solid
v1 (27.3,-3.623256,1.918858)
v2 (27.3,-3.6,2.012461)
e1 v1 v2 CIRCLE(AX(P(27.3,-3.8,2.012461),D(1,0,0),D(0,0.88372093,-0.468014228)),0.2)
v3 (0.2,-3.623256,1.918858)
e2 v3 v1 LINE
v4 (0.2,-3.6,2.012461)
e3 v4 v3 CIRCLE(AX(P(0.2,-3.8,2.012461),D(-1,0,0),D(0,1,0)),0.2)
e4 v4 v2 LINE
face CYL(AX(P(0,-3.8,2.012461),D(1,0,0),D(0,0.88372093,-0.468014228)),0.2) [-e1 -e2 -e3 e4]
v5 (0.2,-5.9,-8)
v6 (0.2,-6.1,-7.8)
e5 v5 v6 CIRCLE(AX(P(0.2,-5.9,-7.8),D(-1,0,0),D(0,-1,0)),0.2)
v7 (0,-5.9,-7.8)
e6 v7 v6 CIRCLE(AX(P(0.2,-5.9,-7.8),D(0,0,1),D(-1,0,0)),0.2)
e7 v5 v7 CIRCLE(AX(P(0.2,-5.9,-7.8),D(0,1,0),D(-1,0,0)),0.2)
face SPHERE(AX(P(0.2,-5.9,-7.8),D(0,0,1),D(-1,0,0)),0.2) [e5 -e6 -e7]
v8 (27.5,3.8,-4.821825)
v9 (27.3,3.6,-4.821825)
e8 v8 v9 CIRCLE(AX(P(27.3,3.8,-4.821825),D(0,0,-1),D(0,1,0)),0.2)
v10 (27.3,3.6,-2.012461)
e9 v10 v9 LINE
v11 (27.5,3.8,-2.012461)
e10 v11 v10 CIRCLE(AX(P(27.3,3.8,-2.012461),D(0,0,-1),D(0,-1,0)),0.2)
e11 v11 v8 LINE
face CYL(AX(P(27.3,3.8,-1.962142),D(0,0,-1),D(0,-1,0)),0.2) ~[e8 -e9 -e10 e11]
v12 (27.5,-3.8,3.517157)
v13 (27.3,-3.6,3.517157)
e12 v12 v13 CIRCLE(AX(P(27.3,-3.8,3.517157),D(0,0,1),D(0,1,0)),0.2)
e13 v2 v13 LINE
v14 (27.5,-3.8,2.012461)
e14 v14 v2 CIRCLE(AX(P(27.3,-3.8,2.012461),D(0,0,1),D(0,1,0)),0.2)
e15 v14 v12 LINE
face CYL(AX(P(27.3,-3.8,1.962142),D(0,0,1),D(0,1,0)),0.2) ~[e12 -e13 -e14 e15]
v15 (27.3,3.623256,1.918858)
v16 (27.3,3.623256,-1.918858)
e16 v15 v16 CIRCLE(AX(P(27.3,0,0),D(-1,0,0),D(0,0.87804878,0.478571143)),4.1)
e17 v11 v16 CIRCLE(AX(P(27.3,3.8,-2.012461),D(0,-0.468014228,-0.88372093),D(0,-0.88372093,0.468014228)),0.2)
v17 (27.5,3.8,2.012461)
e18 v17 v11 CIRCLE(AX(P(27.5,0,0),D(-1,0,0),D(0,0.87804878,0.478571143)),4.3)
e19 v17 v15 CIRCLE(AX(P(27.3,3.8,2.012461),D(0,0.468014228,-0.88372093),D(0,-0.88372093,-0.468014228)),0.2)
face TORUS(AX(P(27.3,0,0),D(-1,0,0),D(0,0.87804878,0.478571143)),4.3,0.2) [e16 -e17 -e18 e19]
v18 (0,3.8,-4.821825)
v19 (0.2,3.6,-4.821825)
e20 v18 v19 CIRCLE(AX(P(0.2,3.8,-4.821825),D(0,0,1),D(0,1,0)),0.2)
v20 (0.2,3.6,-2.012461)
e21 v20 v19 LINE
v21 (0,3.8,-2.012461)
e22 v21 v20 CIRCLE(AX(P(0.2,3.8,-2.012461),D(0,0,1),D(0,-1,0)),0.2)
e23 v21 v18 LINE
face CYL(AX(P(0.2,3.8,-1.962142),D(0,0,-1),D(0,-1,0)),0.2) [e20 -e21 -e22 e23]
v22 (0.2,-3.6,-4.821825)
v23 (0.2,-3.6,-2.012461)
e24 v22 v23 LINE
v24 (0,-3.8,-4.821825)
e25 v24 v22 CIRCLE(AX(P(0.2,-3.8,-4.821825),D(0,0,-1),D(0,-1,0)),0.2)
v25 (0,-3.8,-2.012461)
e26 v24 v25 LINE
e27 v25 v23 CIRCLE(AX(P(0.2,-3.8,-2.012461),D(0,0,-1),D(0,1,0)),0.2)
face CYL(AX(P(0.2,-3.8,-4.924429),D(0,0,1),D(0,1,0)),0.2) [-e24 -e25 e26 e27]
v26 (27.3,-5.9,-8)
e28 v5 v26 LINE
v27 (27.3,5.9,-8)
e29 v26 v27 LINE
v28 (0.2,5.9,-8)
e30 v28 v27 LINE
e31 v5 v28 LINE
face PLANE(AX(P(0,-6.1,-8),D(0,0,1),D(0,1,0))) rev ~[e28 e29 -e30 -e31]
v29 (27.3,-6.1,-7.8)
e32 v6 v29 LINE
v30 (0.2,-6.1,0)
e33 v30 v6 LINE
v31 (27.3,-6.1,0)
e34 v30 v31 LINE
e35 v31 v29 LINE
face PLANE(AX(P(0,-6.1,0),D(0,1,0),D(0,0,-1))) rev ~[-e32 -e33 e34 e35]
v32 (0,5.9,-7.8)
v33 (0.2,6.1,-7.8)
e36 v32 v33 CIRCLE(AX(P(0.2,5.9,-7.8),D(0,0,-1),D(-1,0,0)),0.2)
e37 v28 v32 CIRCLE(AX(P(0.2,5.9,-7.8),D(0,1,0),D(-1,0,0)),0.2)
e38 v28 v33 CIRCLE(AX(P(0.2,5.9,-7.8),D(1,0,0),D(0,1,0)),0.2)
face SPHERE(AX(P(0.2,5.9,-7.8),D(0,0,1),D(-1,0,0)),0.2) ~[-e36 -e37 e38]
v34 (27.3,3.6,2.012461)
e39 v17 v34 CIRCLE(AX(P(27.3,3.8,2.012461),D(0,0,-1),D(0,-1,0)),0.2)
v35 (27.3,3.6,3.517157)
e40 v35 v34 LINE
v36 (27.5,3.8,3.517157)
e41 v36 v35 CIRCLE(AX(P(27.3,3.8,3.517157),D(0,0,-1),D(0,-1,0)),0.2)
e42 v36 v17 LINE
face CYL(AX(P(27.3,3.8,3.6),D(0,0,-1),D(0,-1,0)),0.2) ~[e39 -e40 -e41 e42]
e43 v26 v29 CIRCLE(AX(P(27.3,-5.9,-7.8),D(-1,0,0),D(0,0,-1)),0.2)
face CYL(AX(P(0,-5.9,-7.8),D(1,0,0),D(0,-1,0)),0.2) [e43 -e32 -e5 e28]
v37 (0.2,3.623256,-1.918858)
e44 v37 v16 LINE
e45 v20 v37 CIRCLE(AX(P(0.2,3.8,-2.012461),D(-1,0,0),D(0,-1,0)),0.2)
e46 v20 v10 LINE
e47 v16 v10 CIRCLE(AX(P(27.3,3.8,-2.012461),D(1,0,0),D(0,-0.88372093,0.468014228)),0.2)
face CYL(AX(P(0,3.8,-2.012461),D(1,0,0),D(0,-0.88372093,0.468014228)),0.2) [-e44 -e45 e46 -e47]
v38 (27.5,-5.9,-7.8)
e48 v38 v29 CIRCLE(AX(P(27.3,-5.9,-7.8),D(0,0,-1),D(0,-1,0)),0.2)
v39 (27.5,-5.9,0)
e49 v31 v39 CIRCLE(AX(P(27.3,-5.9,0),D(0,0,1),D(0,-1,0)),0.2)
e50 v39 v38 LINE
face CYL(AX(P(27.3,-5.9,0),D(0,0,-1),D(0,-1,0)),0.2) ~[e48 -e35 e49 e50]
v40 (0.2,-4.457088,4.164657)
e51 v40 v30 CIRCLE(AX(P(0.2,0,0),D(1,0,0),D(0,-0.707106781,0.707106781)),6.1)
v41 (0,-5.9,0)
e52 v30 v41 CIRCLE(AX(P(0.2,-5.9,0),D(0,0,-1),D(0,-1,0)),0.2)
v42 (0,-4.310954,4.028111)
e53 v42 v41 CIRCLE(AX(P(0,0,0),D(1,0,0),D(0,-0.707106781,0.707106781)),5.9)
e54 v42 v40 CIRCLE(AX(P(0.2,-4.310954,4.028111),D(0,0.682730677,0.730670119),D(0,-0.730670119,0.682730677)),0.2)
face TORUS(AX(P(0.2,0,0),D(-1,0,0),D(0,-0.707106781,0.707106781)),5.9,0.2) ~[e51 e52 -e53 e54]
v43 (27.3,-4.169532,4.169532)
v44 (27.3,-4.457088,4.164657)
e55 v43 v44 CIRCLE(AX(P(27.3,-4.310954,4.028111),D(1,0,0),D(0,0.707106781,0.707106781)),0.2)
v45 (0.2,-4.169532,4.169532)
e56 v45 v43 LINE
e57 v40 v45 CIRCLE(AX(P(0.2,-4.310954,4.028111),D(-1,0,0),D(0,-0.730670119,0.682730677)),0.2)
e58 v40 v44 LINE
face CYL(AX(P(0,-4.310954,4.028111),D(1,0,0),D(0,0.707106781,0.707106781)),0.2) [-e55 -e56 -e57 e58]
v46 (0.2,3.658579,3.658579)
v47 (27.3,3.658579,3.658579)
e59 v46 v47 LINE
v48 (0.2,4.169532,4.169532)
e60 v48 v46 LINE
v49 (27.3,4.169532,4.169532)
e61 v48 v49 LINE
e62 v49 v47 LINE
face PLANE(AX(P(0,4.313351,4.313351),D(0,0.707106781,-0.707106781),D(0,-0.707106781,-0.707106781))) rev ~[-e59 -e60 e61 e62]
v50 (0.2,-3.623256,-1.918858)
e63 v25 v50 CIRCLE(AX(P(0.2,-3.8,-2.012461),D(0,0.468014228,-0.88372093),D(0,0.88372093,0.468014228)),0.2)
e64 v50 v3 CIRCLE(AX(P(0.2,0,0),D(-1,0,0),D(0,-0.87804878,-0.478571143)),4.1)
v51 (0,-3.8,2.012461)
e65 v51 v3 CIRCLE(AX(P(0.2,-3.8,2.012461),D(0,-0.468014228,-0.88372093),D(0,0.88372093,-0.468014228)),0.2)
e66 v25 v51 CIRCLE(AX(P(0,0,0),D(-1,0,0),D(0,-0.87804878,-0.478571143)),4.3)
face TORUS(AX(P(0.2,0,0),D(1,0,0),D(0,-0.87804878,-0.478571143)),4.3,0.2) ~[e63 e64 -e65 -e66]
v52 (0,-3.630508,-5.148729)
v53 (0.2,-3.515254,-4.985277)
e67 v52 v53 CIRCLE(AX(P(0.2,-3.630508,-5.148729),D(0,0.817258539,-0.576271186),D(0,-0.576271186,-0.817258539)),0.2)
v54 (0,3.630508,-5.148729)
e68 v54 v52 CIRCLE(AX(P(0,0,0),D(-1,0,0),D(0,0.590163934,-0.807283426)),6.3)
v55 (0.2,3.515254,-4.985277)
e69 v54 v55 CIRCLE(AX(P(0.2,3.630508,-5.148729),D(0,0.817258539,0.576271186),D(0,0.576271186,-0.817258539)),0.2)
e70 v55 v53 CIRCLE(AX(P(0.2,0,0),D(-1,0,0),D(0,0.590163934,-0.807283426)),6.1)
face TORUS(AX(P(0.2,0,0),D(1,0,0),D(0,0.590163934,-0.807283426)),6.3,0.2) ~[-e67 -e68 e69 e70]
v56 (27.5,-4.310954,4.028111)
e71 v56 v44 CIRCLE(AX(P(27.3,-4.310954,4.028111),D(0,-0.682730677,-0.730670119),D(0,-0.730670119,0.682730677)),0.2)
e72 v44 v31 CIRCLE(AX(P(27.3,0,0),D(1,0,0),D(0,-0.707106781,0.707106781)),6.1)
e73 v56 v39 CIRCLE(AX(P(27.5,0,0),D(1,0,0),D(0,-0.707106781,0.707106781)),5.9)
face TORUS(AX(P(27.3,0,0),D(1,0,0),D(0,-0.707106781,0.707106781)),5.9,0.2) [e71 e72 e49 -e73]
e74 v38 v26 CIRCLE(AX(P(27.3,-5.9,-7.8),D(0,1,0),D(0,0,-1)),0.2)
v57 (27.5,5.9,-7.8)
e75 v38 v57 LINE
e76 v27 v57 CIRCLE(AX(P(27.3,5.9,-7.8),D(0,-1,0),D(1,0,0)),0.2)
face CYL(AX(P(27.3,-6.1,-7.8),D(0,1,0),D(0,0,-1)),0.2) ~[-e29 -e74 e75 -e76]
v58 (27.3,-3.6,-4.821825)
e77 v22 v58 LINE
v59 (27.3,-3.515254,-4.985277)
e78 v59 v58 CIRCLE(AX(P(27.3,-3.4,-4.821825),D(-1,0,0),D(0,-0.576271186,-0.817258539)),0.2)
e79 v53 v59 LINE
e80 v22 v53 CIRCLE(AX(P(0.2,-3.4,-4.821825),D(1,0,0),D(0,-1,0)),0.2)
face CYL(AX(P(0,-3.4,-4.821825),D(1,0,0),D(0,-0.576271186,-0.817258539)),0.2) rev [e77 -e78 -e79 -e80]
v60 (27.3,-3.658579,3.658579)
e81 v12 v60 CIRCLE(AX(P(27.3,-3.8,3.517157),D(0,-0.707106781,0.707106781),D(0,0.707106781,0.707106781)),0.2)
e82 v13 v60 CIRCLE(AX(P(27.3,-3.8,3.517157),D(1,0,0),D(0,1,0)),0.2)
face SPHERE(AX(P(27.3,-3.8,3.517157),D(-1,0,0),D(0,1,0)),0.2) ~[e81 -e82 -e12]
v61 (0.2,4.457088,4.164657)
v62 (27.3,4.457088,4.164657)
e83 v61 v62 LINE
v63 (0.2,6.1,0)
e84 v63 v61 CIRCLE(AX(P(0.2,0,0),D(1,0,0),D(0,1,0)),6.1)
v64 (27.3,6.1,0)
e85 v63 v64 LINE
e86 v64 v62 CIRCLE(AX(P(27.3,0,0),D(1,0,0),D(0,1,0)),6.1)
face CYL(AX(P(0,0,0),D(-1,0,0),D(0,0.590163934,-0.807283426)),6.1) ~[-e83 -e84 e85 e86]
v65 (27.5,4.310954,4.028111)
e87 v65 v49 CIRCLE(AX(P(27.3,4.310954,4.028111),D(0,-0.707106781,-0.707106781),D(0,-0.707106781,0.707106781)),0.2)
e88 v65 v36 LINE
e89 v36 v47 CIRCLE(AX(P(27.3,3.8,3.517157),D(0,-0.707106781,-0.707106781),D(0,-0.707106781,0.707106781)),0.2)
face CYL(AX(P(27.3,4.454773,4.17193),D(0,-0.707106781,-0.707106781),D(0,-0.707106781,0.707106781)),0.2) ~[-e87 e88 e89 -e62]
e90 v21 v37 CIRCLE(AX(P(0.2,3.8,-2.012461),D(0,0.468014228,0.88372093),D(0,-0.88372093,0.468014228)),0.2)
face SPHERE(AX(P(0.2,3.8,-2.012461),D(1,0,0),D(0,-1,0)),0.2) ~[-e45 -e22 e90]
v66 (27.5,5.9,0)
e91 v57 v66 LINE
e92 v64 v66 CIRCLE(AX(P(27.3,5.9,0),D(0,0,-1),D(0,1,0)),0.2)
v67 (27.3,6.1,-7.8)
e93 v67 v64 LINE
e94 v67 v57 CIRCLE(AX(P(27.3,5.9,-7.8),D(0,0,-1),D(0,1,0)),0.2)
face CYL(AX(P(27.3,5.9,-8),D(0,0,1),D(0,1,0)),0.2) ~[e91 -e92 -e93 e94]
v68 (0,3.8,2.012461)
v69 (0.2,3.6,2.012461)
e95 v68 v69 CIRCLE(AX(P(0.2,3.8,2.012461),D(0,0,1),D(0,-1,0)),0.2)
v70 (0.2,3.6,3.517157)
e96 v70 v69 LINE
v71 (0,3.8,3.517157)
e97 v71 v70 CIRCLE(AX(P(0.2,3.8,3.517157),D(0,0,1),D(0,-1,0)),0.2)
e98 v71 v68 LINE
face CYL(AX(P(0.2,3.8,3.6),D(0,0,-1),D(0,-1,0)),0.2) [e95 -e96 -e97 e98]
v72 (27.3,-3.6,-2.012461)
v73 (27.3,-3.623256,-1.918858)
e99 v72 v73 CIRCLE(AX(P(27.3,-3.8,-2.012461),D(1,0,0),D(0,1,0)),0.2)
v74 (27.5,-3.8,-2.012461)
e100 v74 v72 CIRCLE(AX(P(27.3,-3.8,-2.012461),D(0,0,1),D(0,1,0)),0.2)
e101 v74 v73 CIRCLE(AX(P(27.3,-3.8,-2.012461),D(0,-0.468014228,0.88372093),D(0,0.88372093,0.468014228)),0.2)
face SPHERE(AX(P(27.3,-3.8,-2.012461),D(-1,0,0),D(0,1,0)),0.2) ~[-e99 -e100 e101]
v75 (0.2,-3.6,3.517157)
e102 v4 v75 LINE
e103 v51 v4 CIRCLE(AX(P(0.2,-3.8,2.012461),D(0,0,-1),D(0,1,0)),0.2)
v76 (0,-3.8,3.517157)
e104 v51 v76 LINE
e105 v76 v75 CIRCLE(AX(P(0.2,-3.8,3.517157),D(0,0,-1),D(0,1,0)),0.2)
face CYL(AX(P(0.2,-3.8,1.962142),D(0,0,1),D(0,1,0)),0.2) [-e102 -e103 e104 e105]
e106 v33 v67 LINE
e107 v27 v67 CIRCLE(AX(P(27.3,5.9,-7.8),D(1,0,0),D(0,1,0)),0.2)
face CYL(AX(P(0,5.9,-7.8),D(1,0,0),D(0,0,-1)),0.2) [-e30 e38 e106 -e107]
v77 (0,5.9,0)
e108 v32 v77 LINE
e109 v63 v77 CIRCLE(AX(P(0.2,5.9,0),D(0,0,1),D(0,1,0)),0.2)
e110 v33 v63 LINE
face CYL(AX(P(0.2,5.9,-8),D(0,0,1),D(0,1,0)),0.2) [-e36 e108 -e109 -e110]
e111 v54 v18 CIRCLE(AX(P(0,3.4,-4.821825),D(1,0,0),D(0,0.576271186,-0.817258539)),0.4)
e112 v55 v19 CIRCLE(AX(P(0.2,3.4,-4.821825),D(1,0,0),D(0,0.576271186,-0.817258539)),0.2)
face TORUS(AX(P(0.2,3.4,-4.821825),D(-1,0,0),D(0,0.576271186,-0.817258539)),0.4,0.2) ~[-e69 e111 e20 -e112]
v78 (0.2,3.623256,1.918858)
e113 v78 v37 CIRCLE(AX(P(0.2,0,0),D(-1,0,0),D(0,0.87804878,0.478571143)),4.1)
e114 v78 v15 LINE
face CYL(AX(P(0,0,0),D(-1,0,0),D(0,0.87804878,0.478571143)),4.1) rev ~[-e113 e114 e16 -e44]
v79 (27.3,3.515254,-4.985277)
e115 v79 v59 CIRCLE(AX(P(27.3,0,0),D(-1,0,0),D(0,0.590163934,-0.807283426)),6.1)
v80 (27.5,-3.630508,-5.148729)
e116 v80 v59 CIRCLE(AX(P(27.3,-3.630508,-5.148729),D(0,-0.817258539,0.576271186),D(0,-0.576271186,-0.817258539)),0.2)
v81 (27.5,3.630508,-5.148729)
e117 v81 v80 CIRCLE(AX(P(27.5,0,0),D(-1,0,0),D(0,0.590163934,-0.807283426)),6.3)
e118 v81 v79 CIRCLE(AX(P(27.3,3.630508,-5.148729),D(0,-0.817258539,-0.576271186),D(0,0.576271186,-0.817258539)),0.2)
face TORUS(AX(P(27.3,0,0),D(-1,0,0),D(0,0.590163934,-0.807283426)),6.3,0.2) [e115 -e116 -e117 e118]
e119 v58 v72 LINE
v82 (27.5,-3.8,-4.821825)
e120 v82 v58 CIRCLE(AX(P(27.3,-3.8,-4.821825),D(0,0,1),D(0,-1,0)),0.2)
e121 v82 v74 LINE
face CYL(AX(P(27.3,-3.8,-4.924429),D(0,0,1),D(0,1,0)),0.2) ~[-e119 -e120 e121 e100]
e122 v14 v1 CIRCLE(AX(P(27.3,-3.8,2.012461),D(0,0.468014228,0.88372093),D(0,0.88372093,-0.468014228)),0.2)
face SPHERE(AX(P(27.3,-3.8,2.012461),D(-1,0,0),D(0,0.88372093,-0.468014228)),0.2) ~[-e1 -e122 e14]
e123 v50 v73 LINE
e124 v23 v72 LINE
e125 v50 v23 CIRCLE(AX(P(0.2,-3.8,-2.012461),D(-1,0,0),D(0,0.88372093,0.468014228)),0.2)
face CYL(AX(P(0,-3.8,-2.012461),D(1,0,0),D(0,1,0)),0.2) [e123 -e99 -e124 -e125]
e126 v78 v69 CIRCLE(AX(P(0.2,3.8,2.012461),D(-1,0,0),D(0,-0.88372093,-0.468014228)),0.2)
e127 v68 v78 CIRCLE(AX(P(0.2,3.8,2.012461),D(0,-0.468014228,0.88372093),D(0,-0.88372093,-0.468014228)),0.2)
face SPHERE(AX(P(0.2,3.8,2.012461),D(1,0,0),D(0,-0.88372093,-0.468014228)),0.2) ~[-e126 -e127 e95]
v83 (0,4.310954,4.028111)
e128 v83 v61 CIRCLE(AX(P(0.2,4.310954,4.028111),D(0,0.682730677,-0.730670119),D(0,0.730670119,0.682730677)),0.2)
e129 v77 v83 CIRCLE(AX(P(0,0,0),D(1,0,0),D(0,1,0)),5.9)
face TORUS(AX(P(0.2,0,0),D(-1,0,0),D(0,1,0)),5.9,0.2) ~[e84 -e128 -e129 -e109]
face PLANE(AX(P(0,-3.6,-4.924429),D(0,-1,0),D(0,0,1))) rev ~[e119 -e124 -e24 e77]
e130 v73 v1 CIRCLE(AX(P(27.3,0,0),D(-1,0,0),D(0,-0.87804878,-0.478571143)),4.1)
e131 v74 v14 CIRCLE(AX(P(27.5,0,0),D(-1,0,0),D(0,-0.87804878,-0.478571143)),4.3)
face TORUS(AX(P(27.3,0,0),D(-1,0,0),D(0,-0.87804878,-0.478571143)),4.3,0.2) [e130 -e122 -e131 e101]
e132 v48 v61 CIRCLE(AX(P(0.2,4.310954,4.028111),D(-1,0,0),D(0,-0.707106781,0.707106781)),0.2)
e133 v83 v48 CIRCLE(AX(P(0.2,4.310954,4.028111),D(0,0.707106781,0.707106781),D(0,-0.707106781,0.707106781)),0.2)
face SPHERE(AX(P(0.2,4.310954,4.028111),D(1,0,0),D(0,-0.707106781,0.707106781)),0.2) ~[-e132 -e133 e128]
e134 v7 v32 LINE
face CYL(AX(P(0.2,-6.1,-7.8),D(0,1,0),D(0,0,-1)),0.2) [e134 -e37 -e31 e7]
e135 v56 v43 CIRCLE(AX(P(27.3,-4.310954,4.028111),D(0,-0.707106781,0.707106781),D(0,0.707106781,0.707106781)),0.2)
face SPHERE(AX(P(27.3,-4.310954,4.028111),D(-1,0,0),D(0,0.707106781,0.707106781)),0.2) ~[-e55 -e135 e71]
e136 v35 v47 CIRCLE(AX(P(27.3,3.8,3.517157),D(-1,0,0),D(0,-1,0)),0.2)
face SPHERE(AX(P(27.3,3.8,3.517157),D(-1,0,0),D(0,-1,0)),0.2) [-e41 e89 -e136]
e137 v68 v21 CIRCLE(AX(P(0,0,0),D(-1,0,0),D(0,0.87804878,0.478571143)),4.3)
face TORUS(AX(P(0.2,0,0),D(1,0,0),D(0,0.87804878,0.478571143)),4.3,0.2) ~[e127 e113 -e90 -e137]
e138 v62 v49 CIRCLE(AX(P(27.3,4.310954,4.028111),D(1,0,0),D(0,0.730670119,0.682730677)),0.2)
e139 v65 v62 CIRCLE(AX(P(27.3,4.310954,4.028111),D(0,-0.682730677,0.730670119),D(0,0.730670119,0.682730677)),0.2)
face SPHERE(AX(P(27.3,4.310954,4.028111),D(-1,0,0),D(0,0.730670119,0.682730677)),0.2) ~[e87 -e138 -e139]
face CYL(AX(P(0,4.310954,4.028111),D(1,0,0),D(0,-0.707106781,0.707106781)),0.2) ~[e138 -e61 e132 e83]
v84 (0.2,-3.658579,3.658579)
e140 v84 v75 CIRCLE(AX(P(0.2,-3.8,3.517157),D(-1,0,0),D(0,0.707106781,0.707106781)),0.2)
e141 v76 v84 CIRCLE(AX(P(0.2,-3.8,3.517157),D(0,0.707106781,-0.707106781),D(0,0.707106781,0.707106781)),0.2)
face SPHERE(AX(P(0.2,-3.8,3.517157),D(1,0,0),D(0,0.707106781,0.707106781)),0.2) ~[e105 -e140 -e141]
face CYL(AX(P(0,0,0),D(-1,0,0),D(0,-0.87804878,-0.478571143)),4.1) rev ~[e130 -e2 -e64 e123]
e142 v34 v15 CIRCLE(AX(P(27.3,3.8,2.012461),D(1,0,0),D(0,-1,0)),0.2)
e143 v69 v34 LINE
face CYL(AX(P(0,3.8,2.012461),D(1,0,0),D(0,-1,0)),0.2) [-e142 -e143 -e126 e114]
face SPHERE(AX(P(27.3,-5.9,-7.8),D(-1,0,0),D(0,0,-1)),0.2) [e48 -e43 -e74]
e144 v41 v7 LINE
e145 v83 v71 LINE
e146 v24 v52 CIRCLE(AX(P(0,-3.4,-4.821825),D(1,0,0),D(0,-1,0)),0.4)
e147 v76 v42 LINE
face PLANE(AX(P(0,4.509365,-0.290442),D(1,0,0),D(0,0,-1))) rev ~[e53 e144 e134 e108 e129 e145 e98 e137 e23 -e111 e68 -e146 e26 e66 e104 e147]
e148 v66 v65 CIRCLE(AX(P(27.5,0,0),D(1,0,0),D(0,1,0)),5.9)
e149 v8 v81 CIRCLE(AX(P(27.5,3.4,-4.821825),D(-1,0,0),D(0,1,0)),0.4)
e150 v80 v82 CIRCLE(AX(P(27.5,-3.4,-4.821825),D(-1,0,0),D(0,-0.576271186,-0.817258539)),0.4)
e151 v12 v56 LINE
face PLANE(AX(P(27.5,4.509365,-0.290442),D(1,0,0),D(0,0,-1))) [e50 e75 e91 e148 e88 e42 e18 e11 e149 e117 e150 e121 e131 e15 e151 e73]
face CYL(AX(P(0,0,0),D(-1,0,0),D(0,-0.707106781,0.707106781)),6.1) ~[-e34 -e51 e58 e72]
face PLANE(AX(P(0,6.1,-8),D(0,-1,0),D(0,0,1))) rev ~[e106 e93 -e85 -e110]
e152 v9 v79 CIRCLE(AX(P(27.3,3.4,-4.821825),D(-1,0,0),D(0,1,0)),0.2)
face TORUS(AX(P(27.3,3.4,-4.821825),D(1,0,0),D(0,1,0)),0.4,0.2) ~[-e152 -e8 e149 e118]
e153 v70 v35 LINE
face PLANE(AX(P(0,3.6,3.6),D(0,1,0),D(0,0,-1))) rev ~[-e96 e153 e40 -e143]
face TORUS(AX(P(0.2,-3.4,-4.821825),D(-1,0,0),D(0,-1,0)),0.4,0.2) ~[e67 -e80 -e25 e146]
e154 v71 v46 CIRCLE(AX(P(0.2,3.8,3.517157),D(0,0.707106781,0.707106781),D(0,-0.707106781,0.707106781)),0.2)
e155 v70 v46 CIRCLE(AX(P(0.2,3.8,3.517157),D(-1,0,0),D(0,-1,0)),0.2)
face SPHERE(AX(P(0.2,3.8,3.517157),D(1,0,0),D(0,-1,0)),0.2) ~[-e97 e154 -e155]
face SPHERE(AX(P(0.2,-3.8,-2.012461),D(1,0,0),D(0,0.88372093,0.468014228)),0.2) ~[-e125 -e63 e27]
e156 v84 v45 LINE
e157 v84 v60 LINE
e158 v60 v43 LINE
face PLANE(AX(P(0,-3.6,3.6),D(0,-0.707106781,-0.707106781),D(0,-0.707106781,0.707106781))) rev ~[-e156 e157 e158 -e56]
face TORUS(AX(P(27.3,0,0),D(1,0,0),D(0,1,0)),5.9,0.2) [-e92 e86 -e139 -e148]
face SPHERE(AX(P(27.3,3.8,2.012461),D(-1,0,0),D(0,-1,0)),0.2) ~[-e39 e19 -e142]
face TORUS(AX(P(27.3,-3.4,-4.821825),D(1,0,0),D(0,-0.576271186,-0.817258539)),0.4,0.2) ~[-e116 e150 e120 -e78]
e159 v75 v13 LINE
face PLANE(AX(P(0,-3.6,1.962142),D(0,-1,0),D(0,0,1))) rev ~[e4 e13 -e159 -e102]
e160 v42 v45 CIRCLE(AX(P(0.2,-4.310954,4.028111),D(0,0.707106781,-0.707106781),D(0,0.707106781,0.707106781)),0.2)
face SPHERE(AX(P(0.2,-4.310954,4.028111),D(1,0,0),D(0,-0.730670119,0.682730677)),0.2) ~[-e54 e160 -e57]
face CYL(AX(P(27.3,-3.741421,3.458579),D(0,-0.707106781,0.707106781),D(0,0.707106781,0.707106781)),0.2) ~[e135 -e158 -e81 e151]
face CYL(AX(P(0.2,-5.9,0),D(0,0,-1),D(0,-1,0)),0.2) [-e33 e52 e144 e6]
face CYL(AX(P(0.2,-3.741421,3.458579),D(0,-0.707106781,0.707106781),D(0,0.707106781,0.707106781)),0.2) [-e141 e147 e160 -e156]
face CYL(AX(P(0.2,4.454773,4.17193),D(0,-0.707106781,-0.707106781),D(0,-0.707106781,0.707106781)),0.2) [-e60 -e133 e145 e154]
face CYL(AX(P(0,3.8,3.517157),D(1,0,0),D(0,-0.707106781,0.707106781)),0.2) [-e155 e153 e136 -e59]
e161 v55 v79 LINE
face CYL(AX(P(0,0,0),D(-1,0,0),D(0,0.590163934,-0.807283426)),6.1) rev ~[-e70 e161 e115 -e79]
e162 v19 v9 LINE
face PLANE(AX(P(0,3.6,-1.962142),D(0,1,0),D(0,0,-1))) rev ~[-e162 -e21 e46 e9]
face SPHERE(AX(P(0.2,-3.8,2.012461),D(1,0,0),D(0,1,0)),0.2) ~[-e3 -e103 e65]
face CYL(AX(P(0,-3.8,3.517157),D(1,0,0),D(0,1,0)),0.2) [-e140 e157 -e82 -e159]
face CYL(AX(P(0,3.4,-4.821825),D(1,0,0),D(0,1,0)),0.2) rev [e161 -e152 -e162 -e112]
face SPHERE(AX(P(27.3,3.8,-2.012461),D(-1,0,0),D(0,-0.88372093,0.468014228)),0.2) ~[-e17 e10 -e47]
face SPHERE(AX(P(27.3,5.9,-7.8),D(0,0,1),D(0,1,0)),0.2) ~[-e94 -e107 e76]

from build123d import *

# Parameters (mm, degrees)
BOSS_EXTRUDE1_DEPTH = 27.5
FILLET1_R           = 0.2


with BuildPart() as part:
    # Sketch1 → Boss-Extrude1 (new body)
    with BuildSketch(Plane(origin=(0, 0, 0), x_dir=(0, 0, -1), z_dir=(1, 0, 0))):
        with BuildLine():
            Line((-4.3133513652379465, 4.313351365237932), (-3.6000000000000107, 3.5999999999999988))
            Line((-3.6000000000000103, 3.5999999999999996), (-1.9621416870348378, 3.5999999999999996))
            ThreePointArc((-1.962141687034841, 3.6000000000000094), (-1.978e-14, 4.1), (1.962141687034806, 3.600000000000028))
            Line((1.9621416870347996, 3.5999999999999996), (4.924428900898164, 3.5999999999999996))
            ThreePointArc((4.9244289008981275, 3.5999999999998975), (4.632641104588721, 3.96845516493194), (4.3133513652379465, 4.313351365237932))
            ThreePointArc((4.3133513652379465, 4.313351365237932), (2.3343689374270524, 5.6356651483188465), (3.7e-16, 6.1))
            ThreePointArc((3.7e-16, 6.1), (-2.334368937427052, 5.6356651483188465), (-4.3133513652379465, 4.313351365237932))
        make_face()
        with BuildLine():
            Line((8, 6.1), (0, 6.1))
            ThreePointArc((3.7e-16, 6.1), (2.3343689374270524, 5.6356651483188465), (4.3133513652379465, 4.313351365237932))
            Line((4.3133513652379465, 4.313351365237932), (8, 4.313351365237933))
            Line((8, 4.313351365237933), (8, 6.1))
        make_face()
        with BuildLine():
            ThreePointArc((4.3133513652379465, 4.313351365237932), (4.632641104588721, 3.96845516493194), (4.9244289008981275, 3.5999999999998975))
            Line((4.924428900898164, 3.5999999999999996), (8, 3.5999999999999996))
            Line((8, 3.5999999999999996), (8, 4.313351365237933))
            Line((8, 4.313351365237933), (4.3133513652379465, 4.313351365237932))
        make_face()
        with BuildLine():
            Line((8, 3.5999999999999996), (4.924428900898164, 3.5999999999999996))
            ThreePointArc((4.9244289008981275, 3.5999999999998975), (5.7986643417031205, 1.8935395037497136), (6.1, 0))
            ThreePointArc((6.1, -1.49e-15), (5.7986643417031205, -1.8935395037497147), (4.924428900898127, -3.599999999999898))
            Line((4.924428900898162, -3.6), (8, -3.5999999999999996))
            Line((8, -3.5999999999999996), (8, 3.5999999999999996))
        make_face()
        with BuildLine():
            ThreePointArc((4.3133513652379465, -4.313351365237933), (2.334368937427049, -5.635665148318848), (-6.54e-15, -6.1))
            Line((-6.22e-15, -6.1), (8, -6.1))
            Line((8, -6.1), (8, -4.313351365237933))
            Line((8, -4.313351365237933), (4.3133513652379465, -4.313351365237932))
        make_face()
        with BuildLine():
            Line((8, -3.5999999999999996), (4.924428900898162, -3.6))
            ThreePointArc((4.924428900898127, -3.599999999999898), (4.6326411045887195, -3.968455164931942), (4.3133513652379465, -4.313351365237933))
            Line((4.3133513652379465, -4.313351365237932), (8, -4.313351365237933))
            Line((8, -4.313351365237933), (8, -3.5999999999999996))
        make_face()
        with BuildLine():
            Line((-1.9621416870348352, -3.6000000000000005), (-3.6000000000000156, -3.600000000000001))
            Line((-3.600000000000014, -3.6000000000000023), (-4.3133513652379465, -4.313351365237932))
            ThreePointArc((-4.313351365237948, -4.313351365237931), (-2.334368937427056, -5.635665148318846), (-6.54e-15, -6.1))
            ThreePointArc((-6.54e-15, -6.1), (2.334368937427049, -5.635665148318848), (4.3133513652379465, -4.313351365237933))
            ThreePointArc((4.3133513652379465, -4.313351365237933), (4.6326411045887195, -3.968455164931942), (4.924428900898127, -3.599999999999898))
            Line((4.924428900898162, -3.6), (1.9621416870348023, -3.6000000000000005))
            ThreePointArc((1.9621416870348085, -3.6000000000000267), (-1.532e-14, -4.1), (-1.9621416870348387, -3.6000000000000103))
        make_face()
    extrude(amount=BOSS_EXTRUDE1_DEPTH)

    # Fillet1
    fillet1_edges = [part.edges().sort_by_distance(p)[0] for p in [
        (0, -6.1, -3.9999999999999973),
        (0, -5.635665148318846, 2.334368937427055),
        (0, -3.9566756826189673, 3.95667568261898),
        (27.5, 6.1, -4),
        (0, -3.6000000000000005, 2.7810708435174254),
        (0, -4.1000000000000005, 1.654e-14),
        (0, -3.6, -3.443285293966482),
        (0, -6.1e-16, -6.100000000000001),
        (0, 3.6000000000000103, -3.4432852939664738),
        (0, 4.1, 1.982e-14),
        (0, 3.5999999999999996, 2.781070843517424),
        (0, 3.9566756826189655, 3.956675682618979),
        (0, 5.635665148318875, 2.334368937427066),
        (27.5, 5.6356651483188465, 2.334368937427051),
        (0, 6.1, -4),
        (0, 0, -8),
        (27.5, 3.9566756826189655, 3.956675682618979),
        (13.75, -6.1, -8),
        (13.75, -4.313351365237931, 4.313351365237947),
        (13.75, -3.6000000000000014, 3.6000000000000147),
        (13.75, -3.600000000000006, 1.9621416870348367),
        (13.75, -3.600000000000014, -1.9621416870348056),
        (13.75, -3.599999999999949, -4.924428900898144),
        (13.75, 3.599999999999948, -4.924428900898145),
        (13.75, 3.600000000000014, -1.9621416870348032),
        (13.75, 3.600000000000005, 1.9621416870348396),
        (13.75, 3.599999999999999, 3.6000000000000103),
        (13.75, 4.313351365237933, 4.313351365237946),
        (13.75, 6.1, -8),
        (27.5, 3.5999999999999996, 2.781070843517424),
        (27.5, 4.1, 1.982e-14),
        (27.5, 0, -8),
        (27.5, 3.6000000000000103, -3.4432852939664738),
        (27.5, -6.1e-16, -6.100000000000001),
        (27.5, -3.6, -3.443285293966482),
        (27.5, -4.1000000000000005, 1.654e-14),
        (27.5, -3.6000000000000005, 2.7810708435174254),
        (27.5, -3.9566756826189673, 3.95667568261898),
        (27.5, -5.635665148318815, 2.3343689374270387),
        (27.5, -6.1, -3.9999999999999973),
    ]]
    fillet(fillet1_edges, radius=FILLET1_R)


solid = part.part
